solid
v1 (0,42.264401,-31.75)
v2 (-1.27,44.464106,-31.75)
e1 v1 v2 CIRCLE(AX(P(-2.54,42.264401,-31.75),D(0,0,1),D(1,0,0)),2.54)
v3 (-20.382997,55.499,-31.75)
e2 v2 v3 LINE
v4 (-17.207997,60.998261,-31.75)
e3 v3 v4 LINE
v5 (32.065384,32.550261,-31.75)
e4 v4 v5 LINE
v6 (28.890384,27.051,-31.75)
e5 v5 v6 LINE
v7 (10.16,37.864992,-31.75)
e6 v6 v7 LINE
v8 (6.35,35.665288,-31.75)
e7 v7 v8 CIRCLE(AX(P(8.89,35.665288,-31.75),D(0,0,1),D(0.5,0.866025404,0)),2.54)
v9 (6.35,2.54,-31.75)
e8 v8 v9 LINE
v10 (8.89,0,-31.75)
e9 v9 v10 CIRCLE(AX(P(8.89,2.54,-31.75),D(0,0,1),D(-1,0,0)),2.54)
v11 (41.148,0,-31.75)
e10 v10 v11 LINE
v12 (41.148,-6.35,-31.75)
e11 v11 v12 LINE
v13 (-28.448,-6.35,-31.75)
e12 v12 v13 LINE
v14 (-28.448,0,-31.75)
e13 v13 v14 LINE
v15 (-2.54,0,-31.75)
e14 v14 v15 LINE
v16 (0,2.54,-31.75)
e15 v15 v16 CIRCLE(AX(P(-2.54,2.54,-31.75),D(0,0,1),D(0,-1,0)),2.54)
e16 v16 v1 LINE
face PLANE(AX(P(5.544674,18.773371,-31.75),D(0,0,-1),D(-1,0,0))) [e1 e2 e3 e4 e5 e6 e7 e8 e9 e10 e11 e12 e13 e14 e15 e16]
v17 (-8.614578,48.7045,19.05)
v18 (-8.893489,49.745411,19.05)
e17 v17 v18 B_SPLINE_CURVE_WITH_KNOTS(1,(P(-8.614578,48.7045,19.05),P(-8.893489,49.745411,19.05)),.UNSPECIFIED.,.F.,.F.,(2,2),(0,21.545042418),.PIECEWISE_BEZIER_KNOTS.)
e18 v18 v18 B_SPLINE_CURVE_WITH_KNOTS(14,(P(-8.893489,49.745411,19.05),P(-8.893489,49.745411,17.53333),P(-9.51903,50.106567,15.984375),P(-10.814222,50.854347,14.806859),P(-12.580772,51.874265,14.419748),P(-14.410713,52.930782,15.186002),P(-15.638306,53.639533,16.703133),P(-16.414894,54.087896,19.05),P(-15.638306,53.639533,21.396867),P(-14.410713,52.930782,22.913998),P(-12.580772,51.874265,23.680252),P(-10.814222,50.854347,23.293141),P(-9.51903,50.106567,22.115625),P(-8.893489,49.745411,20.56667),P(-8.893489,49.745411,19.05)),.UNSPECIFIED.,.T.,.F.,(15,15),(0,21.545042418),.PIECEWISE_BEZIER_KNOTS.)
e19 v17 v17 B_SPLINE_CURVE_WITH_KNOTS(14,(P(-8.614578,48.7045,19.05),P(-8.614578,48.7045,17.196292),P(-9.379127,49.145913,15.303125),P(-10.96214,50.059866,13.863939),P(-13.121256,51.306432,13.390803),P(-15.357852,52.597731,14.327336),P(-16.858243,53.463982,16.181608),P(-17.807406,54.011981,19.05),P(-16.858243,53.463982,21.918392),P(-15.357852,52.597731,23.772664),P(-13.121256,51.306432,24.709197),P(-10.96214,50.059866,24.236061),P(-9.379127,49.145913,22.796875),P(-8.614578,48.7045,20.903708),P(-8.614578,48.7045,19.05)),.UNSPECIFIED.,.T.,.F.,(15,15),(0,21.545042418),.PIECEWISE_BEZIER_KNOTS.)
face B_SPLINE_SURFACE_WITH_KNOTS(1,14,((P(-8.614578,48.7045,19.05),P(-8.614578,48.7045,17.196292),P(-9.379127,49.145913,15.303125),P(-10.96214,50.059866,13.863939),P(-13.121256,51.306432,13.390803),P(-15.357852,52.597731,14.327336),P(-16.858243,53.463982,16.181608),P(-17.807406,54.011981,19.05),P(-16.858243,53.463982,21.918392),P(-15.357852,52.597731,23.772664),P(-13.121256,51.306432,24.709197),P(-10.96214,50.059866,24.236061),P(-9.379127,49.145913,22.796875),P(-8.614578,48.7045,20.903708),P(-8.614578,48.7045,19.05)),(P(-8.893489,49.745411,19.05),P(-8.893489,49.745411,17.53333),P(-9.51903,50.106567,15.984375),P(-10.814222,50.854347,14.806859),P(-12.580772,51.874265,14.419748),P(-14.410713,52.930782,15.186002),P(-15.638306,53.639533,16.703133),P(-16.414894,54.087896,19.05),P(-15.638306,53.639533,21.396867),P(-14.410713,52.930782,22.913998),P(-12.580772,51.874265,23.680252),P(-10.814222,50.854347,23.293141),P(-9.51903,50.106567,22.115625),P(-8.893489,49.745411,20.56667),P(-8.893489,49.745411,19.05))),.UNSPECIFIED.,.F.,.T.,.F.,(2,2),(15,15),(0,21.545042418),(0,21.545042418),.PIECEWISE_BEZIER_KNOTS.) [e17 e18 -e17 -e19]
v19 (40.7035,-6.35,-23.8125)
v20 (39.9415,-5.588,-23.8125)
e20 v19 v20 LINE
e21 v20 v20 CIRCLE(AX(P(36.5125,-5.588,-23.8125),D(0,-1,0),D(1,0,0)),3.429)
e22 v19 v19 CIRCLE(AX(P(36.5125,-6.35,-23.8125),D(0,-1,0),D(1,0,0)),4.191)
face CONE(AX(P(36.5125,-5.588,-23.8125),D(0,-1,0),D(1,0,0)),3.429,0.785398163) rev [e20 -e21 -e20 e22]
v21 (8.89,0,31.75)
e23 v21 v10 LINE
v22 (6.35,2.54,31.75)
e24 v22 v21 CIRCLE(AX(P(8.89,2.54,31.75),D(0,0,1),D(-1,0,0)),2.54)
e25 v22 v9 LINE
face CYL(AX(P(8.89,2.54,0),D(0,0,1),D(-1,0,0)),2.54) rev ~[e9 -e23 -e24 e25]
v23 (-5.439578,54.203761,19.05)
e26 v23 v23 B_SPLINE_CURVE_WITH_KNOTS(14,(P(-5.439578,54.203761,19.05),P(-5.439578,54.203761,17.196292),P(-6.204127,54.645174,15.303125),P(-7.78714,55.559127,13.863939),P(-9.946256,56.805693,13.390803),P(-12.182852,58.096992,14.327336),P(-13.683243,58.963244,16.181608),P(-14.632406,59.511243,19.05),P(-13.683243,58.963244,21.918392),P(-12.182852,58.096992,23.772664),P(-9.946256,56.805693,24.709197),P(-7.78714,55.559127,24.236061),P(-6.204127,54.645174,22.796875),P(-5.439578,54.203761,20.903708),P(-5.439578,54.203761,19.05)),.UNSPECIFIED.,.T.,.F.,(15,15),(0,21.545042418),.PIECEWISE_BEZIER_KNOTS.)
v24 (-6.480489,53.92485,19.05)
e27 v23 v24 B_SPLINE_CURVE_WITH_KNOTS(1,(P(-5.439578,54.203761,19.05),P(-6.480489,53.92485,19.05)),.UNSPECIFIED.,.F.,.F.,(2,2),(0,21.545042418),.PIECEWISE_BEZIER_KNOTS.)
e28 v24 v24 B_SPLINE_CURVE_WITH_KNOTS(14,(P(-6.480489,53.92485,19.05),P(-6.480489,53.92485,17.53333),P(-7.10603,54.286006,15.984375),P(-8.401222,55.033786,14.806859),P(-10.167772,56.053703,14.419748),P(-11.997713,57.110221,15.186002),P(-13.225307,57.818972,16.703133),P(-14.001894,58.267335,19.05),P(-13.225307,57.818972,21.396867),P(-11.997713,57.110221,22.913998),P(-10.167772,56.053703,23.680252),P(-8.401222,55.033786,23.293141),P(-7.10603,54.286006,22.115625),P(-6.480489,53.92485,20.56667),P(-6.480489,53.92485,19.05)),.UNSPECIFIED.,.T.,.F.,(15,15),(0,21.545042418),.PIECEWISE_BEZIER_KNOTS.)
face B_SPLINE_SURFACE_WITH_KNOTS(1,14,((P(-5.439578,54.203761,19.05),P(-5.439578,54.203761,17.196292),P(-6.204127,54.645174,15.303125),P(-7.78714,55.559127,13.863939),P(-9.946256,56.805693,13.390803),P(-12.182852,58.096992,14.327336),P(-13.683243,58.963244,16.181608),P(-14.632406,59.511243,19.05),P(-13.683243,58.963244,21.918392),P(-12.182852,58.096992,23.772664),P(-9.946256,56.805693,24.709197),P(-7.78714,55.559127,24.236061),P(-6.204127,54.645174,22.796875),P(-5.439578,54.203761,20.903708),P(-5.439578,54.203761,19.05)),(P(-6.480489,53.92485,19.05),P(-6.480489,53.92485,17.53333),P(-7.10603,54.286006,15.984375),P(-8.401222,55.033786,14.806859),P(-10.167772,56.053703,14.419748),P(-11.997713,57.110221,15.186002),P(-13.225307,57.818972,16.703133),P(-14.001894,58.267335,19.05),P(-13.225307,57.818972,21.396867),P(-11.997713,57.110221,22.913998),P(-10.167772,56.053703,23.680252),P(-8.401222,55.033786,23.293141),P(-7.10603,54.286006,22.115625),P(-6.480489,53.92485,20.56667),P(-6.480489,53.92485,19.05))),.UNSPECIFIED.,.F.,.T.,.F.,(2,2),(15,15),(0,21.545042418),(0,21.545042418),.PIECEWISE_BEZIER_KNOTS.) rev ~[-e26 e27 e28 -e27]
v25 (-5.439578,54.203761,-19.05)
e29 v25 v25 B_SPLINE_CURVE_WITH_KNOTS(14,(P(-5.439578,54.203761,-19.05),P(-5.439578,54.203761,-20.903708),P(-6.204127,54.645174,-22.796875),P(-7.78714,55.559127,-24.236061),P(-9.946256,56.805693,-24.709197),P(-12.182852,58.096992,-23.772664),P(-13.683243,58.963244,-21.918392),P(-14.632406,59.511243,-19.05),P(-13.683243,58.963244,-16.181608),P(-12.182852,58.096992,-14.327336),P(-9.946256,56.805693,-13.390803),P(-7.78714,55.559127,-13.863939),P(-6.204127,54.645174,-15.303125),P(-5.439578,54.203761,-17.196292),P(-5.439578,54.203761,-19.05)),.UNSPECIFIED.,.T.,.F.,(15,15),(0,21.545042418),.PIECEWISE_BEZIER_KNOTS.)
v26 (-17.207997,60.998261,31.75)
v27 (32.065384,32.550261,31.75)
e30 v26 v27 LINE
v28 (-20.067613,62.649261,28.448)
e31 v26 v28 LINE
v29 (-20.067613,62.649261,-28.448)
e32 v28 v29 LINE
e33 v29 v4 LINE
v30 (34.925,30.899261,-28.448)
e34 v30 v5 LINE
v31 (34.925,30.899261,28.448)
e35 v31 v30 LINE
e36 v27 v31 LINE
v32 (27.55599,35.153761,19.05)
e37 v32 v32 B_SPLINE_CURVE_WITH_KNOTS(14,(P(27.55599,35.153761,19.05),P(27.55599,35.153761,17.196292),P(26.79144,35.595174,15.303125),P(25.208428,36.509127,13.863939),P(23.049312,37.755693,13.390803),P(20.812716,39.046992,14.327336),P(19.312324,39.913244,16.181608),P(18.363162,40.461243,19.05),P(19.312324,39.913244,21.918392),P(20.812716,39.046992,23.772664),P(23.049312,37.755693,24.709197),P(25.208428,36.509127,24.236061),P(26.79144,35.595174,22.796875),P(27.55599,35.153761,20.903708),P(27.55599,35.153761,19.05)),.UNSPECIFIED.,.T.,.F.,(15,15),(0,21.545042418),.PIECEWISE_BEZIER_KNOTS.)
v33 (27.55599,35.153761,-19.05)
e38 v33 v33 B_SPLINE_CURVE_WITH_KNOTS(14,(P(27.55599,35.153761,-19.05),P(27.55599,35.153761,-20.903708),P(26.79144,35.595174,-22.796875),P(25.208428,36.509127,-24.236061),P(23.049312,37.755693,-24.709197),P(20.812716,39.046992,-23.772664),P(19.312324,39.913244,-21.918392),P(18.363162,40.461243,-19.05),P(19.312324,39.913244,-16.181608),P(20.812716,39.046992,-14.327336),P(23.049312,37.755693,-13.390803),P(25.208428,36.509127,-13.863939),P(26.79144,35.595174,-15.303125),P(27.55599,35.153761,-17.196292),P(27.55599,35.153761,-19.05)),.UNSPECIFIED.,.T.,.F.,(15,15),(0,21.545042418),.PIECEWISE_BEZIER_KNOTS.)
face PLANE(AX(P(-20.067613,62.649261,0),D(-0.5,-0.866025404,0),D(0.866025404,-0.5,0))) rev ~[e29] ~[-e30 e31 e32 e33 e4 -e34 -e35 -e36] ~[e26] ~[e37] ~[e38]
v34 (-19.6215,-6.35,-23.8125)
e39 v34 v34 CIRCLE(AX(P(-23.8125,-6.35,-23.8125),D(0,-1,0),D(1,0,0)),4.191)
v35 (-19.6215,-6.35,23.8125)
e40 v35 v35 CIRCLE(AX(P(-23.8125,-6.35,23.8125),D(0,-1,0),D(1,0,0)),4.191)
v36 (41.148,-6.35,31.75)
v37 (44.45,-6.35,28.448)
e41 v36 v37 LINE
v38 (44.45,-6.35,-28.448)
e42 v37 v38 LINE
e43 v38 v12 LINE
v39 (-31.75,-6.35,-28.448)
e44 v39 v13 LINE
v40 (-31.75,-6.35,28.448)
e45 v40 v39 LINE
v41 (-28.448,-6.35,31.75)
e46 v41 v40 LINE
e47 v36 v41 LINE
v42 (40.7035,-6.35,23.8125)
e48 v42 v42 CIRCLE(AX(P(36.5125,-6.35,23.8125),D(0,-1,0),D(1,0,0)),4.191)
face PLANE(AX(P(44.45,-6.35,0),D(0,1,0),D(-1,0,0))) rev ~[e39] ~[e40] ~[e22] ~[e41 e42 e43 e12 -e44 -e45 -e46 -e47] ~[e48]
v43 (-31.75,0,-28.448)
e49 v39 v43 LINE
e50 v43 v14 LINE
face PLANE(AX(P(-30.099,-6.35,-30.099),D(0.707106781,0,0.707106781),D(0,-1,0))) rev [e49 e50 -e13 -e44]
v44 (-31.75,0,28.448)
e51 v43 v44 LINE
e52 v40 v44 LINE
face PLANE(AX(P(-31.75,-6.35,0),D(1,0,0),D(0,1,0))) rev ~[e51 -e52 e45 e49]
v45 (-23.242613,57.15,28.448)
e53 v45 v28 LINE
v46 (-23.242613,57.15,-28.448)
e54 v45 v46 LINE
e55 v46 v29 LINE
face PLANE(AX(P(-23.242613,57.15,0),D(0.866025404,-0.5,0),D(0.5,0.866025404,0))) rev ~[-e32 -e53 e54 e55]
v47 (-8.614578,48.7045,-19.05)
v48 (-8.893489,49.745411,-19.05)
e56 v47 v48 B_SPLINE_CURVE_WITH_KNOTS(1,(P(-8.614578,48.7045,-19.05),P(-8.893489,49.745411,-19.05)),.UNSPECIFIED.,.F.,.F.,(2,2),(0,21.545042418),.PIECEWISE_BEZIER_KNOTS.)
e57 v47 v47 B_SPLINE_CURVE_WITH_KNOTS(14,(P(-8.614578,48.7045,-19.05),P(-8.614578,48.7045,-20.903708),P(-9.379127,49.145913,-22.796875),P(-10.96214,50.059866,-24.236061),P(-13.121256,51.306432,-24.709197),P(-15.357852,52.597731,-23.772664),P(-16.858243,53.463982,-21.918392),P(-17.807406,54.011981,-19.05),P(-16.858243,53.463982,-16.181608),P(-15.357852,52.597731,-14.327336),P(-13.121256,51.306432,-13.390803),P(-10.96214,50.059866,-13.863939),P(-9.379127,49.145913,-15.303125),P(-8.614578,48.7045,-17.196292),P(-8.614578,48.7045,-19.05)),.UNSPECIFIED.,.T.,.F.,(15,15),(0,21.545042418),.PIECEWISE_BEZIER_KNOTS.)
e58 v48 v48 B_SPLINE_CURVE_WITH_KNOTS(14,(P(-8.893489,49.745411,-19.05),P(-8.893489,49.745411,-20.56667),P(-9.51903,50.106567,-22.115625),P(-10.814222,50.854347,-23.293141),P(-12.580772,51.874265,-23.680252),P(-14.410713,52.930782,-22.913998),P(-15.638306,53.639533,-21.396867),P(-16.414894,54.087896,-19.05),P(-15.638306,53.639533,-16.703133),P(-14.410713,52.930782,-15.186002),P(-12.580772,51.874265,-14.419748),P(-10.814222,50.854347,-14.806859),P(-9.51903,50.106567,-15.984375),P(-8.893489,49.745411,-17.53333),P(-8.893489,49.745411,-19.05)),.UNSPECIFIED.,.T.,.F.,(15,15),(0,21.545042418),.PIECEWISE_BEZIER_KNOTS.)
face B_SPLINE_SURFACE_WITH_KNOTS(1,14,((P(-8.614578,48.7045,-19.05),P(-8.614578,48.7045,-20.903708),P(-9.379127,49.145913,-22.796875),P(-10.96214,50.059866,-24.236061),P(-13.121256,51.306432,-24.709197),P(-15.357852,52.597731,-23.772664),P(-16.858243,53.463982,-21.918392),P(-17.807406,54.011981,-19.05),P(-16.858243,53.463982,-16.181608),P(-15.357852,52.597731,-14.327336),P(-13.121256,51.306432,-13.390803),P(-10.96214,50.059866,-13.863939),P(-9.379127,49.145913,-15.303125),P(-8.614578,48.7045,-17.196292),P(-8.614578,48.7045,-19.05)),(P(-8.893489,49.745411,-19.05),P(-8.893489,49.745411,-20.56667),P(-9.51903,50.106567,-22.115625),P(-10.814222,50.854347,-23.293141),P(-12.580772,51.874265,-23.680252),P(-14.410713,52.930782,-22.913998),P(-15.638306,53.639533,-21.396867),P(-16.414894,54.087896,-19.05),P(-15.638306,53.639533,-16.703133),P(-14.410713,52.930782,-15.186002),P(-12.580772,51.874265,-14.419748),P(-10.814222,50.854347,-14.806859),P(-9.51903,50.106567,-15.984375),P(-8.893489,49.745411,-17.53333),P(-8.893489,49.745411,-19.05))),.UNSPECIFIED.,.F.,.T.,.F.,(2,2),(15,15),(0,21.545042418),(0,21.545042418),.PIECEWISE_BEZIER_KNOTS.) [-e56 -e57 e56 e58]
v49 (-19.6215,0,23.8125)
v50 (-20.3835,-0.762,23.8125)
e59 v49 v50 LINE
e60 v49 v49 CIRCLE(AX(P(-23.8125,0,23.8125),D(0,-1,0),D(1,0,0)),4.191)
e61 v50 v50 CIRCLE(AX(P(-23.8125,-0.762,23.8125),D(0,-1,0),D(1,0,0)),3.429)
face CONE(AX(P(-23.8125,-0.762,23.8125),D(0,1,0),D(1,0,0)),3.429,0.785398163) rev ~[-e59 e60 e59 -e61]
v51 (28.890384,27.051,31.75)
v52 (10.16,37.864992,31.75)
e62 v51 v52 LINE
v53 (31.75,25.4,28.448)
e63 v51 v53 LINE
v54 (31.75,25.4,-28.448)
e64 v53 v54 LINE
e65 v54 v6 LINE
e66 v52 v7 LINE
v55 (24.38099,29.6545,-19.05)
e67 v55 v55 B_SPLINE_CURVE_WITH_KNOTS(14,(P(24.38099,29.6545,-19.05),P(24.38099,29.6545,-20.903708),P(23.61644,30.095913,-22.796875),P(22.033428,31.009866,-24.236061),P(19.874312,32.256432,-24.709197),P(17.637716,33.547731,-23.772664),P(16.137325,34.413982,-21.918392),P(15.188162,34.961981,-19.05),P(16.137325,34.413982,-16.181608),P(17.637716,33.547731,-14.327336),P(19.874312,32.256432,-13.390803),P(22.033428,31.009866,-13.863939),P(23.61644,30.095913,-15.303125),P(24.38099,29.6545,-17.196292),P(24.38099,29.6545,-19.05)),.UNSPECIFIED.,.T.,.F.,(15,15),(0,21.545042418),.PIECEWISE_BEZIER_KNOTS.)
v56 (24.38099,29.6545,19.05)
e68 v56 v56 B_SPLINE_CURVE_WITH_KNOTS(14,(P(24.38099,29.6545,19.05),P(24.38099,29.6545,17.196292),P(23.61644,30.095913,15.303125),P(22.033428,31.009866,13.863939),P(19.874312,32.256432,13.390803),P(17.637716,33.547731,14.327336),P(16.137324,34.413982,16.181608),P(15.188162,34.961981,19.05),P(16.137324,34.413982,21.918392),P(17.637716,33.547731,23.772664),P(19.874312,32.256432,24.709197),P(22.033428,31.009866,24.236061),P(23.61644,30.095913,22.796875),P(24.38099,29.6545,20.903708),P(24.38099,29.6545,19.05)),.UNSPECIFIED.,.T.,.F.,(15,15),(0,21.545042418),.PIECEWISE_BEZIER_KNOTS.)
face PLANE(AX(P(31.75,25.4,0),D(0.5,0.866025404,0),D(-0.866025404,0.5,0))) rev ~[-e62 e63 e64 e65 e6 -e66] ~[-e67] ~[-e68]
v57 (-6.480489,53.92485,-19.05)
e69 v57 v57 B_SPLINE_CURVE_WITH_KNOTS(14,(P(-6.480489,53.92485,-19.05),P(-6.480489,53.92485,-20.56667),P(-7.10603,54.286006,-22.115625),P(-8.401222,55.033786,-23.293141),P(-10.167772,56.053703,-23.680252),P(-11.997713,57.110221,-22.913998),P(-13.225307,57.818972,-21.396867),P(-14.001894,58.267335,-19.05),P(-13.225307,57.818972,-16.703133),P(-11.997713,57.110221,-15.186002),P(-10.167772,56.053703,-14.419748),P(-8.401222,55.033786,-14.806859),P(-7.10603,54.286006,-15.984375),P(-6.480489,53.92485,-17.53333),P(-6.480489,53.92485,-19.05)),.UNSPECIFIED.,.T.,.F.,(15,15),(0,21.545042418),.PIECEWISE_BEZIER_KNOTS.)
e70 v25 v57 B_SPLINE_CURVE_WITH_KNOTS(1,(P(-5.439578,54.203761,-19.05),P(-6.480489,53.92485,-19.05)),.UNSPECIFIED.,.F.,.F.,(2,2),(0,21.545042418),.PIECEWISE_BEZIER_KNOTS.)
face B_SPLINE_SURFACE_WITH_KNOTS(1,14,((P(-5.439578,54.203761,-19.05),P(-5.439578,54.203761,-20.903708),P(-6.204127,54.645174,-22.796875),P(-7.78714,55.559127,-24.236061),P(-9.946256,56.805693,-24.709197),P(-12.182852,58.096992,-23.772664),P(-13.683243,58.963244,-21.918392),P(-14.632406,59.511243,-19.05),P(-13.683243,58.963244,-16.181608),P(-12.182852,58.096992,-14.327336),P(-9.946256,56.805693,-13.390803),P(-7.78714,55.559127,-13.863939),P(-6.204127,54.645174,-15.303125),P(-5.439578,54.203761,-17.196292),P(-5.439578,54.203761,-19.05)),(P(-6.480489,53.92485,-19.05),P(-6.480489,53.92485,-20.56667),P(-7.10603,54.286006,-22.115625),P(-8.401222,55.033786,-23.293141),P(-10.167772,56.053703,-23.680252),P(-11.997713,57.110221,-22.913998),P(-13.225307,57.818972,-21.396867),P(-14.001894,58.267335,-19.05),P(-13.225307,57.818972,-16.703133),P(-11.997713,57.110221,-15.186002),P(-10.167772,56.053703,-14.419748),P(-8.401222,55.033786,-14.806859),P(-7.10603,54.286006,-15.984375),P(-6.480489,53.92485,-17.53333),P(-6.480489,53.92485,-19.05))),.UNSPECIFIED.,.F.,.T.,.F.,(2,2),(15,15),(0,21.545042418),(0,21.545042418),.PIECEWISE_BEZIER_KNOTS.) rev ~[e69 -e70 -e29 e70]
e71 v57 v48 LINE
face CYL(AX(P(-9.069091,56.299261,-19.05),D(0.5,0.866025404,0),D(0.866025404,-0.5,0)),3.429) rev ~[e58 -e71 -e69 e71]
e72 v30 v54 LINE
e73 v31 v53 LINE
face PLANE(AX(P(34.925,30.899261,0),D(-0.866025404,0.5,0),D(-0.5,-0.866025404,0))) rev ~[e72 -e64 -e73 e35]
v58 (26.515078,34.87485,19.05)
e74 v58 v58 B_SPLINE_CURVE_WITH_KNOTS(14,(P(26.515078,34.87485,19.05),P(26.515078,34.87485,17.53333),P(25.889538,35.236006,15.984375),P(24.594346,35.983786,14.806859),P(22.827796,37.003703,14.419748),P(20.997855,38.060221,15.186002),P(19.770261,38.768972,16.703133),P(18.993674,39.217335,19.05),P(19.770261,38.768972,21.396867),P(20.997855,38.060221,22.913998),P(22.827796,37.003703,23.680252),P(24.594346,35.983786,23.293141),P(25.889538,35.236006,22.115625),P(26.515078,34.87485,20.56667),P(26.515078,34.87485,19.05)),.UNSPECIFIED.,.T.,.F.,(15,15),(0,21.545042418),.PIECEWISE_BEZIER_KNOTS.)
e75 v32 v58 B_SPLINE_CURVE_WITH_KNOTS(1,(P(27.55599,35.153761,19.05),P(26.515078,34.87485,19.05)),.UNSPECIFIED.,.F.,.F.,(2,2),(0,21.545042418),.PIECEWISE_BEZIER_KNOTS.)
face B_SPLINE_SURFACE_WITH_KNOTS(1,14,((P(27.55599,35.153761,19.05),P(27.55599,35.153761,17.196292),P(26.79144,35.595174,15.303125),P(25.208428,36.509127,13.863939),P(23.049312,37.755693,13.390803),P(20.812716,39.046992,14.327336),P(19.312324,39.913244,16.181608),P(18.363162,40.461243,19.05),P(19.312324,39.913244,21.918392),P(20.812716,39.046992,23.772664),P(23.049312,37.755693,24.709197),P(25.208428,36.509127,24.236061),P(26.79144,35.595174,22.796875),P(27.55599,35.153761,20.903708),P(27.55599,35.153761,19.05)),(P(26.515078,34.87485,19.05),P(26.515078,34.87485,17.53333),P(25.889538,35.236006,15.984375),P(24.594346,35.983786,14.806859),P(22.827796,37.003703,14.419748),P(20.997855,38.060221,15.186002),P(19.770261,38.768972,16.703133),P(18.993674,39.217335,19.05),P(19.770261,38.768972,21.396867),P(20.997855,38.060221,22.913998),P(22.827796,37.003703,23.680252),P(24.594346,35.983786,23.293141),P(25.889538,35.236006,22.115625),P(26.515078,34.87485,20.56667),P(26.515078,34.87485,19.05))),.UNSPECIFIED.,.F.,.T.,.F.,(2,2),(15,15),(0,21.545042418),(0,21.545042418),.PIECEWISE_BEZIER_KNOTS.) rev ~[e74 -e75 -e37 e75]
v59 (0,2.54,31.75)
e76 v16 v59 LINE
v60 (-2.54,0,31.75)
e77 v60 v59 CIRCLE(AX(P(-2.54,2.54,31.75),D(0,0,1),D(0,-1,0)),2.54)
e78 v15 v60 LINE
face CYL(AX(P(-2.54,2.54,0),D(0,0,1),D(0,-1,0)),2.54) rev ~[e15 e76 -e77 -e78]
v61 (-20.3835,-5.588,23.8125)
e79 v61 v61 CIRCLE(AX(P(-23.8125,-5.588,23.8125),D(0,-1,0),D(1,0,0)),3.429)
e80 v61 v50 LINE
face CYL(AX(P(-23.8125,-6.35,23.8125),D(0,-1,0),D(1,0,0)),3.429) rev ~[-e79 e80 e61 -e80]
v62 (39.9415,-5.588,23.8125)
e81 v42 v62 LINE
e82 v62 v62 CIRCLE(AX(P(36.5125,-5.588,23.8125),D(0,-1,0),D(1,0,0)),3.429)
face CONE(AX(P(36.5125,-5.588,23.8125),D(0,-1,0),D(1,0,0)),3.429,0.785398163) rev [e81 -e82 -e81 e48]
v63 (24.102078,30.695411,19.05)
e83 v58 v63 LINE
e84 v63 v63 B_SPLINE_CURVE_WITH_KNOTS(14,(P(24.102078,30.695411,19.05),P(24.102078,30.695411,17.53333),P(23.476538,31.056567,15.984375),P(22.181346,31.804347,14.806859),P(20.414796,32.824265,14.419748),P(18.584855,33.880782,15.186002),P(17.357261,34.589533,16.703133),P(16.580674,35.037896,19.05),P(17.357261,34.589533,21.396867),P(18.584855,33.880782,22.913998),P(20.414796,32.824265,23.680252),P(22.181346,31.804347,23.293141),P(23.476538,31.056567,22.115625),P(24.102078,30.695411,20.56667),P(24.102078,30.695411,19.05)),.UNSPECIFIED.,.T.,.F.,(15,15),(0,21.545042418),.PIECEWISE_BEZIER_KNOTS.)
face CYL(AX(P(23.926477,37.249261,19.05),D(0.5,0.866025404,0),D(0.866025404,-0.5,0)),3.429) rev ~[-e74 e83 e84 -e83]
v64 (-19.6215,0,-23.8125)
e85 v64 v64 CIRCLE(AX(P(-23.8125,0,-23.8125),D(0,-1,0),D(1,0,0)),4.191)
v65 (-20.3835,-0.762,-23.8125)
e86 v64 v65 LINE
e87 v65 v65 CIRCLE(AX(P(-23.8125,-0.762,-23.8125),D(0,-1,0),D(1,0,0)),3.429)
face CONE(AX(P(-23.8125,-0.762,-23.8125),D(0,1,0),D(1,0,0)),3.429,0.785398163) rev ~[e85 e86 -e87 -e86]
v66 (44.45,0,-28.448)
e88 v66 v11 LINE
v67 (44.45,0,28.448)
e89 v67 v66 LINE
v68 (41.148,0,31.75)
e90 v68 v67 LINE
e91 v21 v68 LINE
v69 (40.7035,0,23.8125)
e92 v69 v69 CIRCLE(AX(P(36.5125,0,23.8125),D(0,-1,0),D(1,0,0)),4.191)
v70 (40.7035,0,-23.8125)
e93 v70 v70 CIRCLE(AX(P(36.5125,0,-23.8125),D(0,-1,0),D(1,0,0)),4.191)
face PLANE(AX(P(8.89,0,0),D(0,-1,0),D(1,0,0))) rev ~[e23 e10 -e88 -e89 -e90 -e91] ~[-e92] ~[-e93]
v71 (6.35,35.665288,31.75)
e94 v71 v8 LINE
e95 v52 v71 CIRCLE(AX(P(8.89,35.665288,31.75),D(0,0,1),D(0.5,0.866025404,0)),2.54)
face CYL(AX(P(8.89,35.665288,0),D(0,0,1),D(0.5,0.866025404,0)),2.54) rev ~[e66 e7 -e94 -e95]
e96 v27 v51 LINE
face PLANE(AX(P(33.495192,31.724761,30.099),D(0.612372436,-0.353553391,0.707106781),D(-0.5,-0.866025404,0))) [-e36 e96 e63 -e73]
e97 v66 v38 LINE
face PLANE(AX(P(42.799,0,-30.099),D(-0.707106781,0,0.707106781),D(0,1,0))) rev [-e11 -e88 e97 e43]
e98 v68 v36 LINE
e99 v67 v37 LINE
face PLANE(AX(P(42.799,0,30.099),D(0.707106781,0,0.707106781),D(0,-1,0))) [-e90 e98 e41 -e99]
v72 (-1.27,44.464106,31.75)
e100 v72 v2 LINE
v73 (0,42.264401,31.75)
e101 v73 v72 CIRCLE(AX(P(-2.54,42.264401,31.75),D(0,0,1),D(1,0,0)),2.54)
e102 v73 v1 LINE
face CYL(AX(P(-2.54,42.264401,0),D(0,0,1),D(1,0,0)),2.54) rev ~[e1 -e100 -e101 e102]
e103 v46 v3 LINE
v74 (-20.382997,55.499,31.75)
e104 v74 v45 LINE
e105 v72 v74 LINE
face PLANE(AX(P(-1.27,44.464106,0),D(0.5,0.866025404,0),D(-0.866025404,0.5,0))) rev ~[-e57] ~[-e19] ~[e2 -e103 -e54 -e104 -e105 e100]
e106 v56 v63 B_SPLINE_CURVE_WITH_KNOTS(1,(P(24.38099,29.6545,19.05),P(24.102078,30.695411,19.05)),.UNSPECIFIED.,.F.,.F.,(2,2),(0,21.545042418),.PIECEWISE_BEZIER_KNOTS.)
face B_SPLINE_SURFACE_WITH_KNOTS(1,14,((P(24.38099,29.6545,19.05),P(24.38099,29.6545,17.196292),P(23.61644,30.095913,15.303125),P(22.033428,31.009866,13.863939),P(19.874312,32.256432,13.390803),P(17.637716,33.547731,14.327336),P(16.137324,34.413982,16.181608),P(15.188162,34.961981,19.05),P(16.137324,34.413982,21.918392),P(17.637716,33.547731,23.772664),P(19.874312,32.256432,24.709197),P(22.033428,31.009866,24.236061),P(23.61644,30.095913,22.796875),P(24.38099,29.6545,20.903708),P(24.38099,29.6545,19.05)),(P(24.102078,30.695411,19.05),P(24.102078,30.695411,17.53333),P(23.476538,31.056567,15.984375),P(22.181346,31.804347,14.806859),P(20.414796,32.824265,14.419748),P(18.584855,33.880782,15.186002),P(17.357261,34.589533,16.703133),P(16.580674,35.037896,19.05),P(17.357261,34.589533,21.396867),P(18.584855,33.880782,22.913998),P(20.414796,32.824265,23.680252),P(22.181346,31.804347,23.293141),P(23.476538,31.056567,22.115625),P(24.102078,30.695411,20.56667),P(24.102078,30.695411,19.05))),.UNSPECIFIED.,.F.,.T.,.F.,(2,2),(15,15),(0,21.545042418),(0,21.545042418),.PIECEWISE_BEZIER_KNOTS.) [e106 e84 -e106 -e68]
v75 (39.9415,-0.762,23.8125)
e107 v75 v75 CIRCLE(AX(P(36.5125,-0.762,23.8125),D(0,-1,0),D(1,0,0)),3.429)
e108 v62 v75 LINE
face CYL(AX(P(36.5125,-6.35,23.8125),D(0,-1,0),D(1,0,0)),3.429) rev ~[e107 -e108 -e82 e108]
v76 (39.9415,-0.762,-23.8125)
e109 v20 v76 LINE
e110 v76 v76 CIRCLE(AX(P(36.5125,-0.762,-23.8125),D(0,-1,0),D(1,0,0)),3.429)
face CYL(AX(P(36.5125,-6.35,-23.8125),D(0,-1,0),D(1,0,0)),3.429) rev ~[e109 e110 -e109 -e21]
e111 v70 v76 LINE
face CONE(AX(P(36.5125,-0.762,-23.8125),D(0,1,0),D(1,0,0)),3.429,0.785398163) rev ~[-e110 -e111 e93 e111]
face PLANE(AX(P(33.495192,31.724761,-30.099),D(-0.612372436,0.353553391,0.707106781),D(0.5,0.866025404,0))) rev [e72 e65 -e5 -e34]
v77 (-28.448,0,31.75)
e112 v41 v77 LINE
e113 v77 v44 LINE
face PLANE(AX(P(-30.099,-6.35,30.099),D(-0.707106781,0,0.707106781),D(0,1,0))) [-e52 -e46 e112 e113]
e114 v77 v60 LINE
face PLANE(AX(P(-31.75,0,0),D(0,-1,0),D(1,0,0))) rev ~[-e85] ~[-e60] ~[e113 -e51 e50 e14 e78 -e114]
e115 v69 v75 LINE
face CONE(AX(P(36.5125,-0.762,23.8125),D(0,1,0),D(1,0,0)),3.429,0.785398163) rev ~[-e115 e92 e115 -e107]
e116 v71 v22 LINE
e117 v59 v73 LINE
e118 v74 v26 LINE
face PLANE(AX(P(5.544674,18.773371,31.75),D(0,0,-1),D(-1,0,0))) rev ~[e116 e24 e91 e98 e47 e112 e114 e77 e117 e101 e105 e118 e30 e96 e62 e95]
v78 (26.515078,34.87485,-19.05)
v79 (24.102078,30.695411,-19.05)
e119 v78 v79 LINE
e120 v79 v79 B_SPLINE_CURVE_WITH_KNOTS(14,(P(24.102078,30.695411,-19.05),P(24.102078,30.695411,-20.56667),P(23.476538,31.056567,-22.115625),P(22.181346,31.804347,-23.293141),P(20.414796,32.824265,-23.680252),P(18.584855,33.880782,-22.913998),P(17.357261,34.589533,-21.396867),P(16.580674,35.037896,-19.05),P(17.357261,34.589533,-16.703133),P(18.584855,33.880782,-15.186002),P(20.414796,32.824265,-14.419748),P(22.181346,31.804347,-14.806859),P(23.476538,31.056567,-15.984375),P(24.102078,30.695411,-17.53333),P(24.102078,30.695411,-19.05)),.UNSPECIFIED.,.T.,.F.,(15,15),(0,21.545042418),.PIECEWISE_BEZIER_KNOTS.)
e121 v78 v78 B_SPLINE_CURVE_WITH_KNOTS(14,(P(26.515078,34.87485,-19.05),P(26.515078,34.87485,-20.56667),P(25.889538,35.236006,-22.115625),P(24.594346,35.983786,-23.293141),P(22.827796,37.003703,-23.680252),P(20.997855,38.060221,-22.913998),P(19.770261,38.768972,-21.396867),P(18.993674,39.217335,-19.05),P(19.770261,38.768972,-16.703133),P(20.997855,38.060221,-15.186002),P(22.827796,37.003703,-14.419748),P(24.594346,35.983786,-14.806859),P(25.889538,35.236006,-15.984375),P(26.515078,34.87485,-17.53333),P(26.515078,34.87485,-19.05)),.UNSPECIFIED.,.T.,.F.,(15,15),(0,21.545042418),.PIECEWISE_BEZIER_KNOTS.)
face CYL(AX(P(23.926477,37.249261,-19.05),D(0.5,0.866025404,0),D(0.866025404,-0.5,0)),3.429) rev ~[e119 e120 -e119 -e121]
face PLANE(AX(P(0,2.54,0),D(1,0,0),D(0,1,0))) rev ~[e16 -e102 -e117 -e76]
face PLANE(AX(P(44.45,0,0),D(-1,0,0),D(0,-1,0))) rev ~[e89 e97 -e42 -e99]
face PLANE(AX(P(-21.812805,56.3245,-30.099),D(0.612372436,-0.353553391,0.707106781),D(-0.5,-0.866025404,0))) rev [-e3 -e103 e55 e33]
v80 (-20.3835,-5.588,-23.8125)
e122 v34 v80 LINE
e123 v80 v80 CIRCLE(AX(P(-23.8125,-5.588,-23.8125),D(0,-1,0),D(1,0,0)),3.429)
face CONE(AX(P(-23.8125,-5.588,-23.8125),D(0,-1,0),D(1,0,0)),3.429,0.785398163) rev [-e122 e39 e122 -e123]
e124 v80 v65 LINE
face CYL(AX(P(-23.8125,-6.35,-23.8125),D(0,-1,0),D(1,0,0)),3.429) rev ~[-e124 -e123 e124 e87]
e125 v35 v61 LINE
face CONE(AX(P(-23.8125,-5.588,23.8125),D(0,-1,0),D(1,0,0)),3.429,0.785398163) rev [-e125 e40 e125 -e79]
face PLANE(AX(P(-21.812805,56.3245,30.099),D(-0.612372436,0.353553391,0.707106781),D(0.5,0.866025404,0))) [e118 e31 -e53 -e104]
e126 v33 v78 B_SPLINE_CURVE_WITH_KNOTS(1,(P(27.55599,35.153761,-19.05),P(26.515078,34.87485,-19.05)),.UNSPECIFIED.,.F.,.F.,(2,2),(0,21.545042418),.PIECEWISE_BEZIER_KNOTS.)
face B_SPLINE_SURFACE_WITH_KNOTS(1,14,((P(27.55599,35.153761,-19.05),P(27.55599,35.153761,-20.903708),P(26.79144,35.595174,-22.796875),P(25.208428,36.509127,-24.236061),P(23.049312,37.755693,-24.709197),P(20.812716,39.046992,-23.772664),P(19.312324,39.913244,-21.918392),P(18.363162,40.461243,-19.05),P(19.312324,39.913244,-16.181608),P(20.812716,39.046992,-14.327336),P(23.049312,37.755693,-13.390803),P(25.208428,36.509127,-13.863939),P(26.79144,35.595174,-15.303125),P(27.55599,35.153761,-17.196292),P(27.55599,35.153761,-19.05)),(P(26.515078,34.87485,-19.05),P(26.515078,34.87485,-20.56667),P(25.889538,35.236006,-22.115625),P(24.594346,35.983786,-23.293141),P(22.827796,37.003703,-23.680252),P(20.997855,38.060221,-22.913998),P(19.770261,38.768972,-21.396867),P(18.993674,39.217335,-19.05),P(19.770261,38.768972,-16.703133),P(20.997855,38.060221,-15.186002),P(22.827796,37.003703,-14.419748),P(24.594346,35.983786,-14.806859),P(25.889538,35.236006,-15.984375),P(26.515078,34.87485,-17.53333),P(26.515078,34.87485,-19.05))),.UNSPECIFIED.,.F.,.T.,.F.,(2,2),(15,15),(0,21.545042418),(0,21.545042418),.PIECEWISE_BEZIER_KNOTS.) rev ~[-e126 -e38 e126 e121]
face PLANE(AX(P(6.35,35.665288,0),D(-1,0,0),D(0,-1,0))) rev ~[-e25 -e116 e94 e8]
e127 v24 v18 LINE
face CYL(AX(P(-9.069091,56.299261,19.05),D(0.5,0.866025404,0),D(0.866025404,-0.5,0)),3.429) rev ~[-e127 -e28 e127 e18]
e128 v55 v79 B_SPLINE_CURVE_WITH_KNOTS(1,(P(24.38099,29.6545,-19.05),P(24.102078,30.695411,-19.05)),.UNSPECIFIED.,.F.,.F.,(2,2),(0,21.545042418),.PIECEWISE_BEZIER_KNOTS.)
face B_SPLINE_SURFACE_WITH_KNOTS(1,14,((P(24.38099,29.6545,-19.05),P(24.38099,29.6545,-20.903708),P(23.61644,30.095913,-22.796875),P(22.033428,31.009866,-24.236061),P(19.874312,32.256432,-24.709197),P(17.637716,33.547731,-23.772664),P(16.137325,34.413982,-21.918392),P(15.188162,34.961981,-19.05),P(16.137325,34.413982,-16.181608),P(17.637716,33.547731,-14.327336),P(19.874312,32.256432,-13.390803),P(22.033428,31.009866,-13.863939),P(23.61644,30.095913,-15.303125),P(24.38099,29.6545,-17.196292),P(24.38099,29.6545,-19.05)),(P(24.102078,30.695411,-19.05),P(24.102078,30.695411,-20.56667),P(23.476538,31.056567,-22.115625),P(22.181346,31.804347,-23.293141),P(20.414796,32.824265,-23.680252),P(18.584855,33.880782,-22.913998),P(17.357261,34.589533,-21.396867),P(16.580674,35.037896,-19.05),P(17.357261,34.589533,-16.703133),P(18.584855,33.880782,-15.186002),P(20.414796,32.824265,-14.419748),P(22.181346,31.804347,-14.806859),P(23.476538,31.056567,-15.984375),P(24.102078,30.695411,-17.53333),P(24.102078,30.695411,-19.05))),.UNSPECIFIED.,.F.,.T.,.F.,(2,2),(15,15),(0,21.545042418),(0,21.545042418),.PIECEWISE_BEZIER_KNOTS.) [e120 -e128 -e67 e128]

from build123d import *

# Parameters (mm, degrees)
BOSS_EXTRUDE1_DEPTH = 31.75
CHAMFER1_SIZE       = 3.302
CUT_EXTRUDE1_REACH  = 67.596
SKETCH2_R           = 3.429
CUT_EXTRUDE2_REACH  = 70.999
SKETCH3_R           = 3.429
CHAMFER2_SIZE       = 0.762


with BuildPart() as part:
    # Sketch1 → Boss-Extrude1 (new body, symmetric)
    with BuildSketch(Plane.XY):
        with BuildLine():
            Line((0, 2.54), (0, 42.264401363))
            ThreePointArc((0, 42.264401363), (-0.340295474, 43.534401363), (-1.27, 44.464105889))
            Line((-1.27, 44.464105889), (-23.24261314, 57.15))
            Line((-23.24261314, 57.15), (-20.06761314, 62.649261314))
            Line((-20.06761314, 62.649261314), (34.925, 30.899261314))
            Line((34.925, 30.899261314), (31.75, 25.4))
            Line((31.75, 25.4), (10.16, 37.864992312))
            ThreePointArc((10.16, 37.864992312), (7.62, 37.864992312), (6.35, 35.665287786))
            Line((6.35, 35.665287786), (6.35, 2.54))
            ThreePointArc((6.35, 2.54), (7.093948776, 0.743948776), (8.89, 0))
            Line((8.89, 0), (44.45, 0))
            Line((44.45, 0), (44.45, -6.35))
            Line((44.45, -6.35), (-31.75, -6.35))
            Line((-31.75, -6.35), (-31.75, 0))
            Line((-31.75, 0), (-2.54, 0))
            ThreePointArc((-2.54, 0), (-0.743948776, 0.743948776), (0, 2.54))
        make_face()
    extrude(amount=BOSS_EXTRUDE1_DEPTH, both=True)

    # Chamfer1
    chamfer1_edges = [part.edges().sort_by_distance(p)[0] for p in [
        (33.3375, 28.149630657, -31.75),
        (44.45, -3.175, -31.75),
        (-31.75, -3.175, -31.75),
        (-21.65511314, 59.899630657, -31.75),
        (-31.75, -3.175, 31.75),
        (44.45, -3.175, 31.75),
        (-21.65511314, 59.899630657, 31.75),
        (33.3375, 28.149630657, 31.75),
    ]]
    chamfer(chamfer1_edges, length=CHAMFER1_SIZE)

    # Sketch2 → Cut-Extrude1 (cut, up to next)
    with BuildSketch(Plane(origin=(22.111022628, 38.297414599, 0), x_dir=(0.866025404, -0.5, 0), z_dir=(0.5, 0.866025404, 0)), mode=Mode.PRIVATE) as cut_extrude1_sk1:
        with Locations((-36.00369343, 19.05)):
            Circle(SKETCH2_R)
    cut_extrude1_tool1 = extrude(cut_extrude1_sk1.sketch, amount=-CUT_EXTRUDE1_REACH, mode=Mode.PRIVATE) & part.part
    add(cut_extrude1_tool1.solids().sort_by_distance((-9.069091, 56.299261, -19.05))[0], mode=Mode.SUBTRACT)
    # Sketch2 → Cut-Extrude1 (cut, up to next)
    with BuildSketch(Plane(origin=(22.111022628, 38.297414599, 0), x_dir=(0.866025404, -0.5, 0), z_dir=(0.5, 0.866025404, 0)), mode=Mode.PRIVATE) as cut_extrude1_sk2:
        with Locations((2.09630657, 19.05)):
            Circle(SKETCH2_R)
    cut_extrude1_tool2 = extrude(cut_extrude1_sk2.sketch, amount=-CUT_EXTRUDE1_REACH, mode=Mode.PRIVATE) & part.part
    add(cut_extrude1_tool2.solids().sort_by_distance((23.926477, 37.249261, -19.05))[0], mode=Mode.SUBTRACT)
    # Sketch2 → Cut-Extrude1 (cut, up to next)
    with BuildSketch(Plane(origin=(22.111022628, 38.297414599, 0), x_dir=(0.866025404, -0.5, 0), z_dir=(0.5, 0.866025404, 0)), mode=Mode.PRIVATE) as cut_extrude1_sk3:
        with Locations((-36.00369343, -19.05)):
            Circle(SKETCH2_R)
    cut_extrude1_tool3 = extrude(cut_extrude1_sk3.sketch, amount=-CUT_EXTRUDE1_REACH, mode=Mode.PRIVATE) & part.part
    add(cut_extrude1_tool3.solids().sort_by_distance((-9.069091, 56.299261, 19.05))[0], mode=Mode.SUBTRACT)
    # Sketch2 → Cut-Extrude1 (cut, up to next)
    with BuildSketch(Plane(origin=(22.111022628, 38.297414599, 0), x_dir=(0.866025404, -0.5, 0), z_dir=(0.5, 0.866025404, 0)), mode=Mode.PRIVATE) as cut_extrude1_sk4:
        with Locations((2.09630657, -19.05)):
            Circle(SKETCH2_R)
    cut_extrude1_tool4 = extrude(cut_extrude1_sk4.sketch, amount=-CUT_EXTRUDE1_REACH, mode=Mode.PRIVATE) & part.part
    add(cut_extrude1_tool4.solids().sort_by_distance((23.926477, 37.249261, 19.05))[0], mode=Mode.SUBTRACT)

    # Sketch3 → Cut-Extrude2 (cut, up to next)
    with BuildSketch(Plane.XZ.offset(6.35), mode=Mode.PRIVATE) as cut_extrude2_sk1:
        with Locations((-23.8125, 23.8125)):
            Circle(SKETCH3_R)
    cut_extrude2_tool1 = extrude(cut_extrude2_sk1.sketch, amount=-CUT_EXTRUDE2_REACH, mode=Mode.PRIVATE) & part.part
    add(cut_extrude2_tool1.solids().sort_by_distance((-23.8125, -6.35, 23.8125))[0], mode=Mode.SUBTRACT)
    # Sketch3 → Cut-Extrude2 (cut, up to next)
    with BuildSketch(Plane.XZ.offset(6.35), mode=Mode.PRIVATE) as cut_extrude2_sk2:
        with Locations((36.5125, 23.8125)):
            Circle(SKETCH3_R)
    cut_extrude2_tool2 = extrude(cut_extrude2_sk2.sketch, amount=-CUT_EXTRUDE2_REACH, mode=Mode.PRIVATE) & part.part
    add(cut_extrude2_tool2.solids().sort_by_distance((36.5125, -6.35, 23.8125))[0], mode=Mode.SUBTRACT)
    # Sketch3 → Cut-Extrude2 (cut, up to next)
    with BuildSketch(Plane.XZ.offset(6.35), mode=Mode.PRIVATE) as cut_extrude2_sk3:
        with Locations((-23.8125, -23.8125)):
            Circle(SKETCH3_R)
    cut_extrude2_tool3 = extrude(cut_extrude2_sk3.sketch, amount=-CUT_EXTRUDE2_REACH, mode=Mode.PRIVATE) & part.part
    add(cut_extrude2_tool3.solids().sort_by_distance((-23.8125, -6.35, -23.8125))[0], mode=Mode.SUBTRACT)
    # Sketch3 → Cut-Extrude2 (cut, up to next)
    with BuildSketch(Plane.XZ.offset(6.35), mode=Mode.PRIVATE) as cut_extrude2_sk4:
        with Locations((36.5125, -23.8125)):
            Circle(SKETCH3_R)
    cut_extrude2_tool4 = extrude(cut_extrude2_sk4.sketch, amount=-CUT_EXTRUDE2_REACH, mode=Mode.PRIVATE) & part.part
    add(cut_extrude2_tool4.solids().sort_by_distance((36.5125, -6.35, -23.8125))[0], mode=Mode.SUBTRACT)

    # Chamfer2
    chamfer2_edges = [part.edges().sort_by_distance(p)[0] for p in [
        (17.781876262, 33.4645, -19.05),
        (20.956876262, 38.963761314, -19.05),
        (-12.038691622, 58.013761314, 19.05),
        (-15.213691622, 52.5145, 19.05),
        (17.781876262, 33.4645, 19.05),
        (20.956876262, 38.963761314, 19.05),
        (-12.038691622, 58.013761314, -19.05),
        (-15.213691622, 52.5145, -19.05),
        (33.0835, -6.35, 23.8125),
        (33.0835, 0, 23.8125),
        (-27.2415, -6.35, -23.8125),
        (-27.2415, 0, -23.8125),
        (33.0835, -6.35, -23.8125),
        (33.0835, 0, -23.8125),
        (-27.2415, -6.35, 23.8125),
        (-27.2415, 0, 23.8125),
    ]]
    chamfer(chamfer2_edges, length=CHAMFER2_SIZE)


solid = part.part
